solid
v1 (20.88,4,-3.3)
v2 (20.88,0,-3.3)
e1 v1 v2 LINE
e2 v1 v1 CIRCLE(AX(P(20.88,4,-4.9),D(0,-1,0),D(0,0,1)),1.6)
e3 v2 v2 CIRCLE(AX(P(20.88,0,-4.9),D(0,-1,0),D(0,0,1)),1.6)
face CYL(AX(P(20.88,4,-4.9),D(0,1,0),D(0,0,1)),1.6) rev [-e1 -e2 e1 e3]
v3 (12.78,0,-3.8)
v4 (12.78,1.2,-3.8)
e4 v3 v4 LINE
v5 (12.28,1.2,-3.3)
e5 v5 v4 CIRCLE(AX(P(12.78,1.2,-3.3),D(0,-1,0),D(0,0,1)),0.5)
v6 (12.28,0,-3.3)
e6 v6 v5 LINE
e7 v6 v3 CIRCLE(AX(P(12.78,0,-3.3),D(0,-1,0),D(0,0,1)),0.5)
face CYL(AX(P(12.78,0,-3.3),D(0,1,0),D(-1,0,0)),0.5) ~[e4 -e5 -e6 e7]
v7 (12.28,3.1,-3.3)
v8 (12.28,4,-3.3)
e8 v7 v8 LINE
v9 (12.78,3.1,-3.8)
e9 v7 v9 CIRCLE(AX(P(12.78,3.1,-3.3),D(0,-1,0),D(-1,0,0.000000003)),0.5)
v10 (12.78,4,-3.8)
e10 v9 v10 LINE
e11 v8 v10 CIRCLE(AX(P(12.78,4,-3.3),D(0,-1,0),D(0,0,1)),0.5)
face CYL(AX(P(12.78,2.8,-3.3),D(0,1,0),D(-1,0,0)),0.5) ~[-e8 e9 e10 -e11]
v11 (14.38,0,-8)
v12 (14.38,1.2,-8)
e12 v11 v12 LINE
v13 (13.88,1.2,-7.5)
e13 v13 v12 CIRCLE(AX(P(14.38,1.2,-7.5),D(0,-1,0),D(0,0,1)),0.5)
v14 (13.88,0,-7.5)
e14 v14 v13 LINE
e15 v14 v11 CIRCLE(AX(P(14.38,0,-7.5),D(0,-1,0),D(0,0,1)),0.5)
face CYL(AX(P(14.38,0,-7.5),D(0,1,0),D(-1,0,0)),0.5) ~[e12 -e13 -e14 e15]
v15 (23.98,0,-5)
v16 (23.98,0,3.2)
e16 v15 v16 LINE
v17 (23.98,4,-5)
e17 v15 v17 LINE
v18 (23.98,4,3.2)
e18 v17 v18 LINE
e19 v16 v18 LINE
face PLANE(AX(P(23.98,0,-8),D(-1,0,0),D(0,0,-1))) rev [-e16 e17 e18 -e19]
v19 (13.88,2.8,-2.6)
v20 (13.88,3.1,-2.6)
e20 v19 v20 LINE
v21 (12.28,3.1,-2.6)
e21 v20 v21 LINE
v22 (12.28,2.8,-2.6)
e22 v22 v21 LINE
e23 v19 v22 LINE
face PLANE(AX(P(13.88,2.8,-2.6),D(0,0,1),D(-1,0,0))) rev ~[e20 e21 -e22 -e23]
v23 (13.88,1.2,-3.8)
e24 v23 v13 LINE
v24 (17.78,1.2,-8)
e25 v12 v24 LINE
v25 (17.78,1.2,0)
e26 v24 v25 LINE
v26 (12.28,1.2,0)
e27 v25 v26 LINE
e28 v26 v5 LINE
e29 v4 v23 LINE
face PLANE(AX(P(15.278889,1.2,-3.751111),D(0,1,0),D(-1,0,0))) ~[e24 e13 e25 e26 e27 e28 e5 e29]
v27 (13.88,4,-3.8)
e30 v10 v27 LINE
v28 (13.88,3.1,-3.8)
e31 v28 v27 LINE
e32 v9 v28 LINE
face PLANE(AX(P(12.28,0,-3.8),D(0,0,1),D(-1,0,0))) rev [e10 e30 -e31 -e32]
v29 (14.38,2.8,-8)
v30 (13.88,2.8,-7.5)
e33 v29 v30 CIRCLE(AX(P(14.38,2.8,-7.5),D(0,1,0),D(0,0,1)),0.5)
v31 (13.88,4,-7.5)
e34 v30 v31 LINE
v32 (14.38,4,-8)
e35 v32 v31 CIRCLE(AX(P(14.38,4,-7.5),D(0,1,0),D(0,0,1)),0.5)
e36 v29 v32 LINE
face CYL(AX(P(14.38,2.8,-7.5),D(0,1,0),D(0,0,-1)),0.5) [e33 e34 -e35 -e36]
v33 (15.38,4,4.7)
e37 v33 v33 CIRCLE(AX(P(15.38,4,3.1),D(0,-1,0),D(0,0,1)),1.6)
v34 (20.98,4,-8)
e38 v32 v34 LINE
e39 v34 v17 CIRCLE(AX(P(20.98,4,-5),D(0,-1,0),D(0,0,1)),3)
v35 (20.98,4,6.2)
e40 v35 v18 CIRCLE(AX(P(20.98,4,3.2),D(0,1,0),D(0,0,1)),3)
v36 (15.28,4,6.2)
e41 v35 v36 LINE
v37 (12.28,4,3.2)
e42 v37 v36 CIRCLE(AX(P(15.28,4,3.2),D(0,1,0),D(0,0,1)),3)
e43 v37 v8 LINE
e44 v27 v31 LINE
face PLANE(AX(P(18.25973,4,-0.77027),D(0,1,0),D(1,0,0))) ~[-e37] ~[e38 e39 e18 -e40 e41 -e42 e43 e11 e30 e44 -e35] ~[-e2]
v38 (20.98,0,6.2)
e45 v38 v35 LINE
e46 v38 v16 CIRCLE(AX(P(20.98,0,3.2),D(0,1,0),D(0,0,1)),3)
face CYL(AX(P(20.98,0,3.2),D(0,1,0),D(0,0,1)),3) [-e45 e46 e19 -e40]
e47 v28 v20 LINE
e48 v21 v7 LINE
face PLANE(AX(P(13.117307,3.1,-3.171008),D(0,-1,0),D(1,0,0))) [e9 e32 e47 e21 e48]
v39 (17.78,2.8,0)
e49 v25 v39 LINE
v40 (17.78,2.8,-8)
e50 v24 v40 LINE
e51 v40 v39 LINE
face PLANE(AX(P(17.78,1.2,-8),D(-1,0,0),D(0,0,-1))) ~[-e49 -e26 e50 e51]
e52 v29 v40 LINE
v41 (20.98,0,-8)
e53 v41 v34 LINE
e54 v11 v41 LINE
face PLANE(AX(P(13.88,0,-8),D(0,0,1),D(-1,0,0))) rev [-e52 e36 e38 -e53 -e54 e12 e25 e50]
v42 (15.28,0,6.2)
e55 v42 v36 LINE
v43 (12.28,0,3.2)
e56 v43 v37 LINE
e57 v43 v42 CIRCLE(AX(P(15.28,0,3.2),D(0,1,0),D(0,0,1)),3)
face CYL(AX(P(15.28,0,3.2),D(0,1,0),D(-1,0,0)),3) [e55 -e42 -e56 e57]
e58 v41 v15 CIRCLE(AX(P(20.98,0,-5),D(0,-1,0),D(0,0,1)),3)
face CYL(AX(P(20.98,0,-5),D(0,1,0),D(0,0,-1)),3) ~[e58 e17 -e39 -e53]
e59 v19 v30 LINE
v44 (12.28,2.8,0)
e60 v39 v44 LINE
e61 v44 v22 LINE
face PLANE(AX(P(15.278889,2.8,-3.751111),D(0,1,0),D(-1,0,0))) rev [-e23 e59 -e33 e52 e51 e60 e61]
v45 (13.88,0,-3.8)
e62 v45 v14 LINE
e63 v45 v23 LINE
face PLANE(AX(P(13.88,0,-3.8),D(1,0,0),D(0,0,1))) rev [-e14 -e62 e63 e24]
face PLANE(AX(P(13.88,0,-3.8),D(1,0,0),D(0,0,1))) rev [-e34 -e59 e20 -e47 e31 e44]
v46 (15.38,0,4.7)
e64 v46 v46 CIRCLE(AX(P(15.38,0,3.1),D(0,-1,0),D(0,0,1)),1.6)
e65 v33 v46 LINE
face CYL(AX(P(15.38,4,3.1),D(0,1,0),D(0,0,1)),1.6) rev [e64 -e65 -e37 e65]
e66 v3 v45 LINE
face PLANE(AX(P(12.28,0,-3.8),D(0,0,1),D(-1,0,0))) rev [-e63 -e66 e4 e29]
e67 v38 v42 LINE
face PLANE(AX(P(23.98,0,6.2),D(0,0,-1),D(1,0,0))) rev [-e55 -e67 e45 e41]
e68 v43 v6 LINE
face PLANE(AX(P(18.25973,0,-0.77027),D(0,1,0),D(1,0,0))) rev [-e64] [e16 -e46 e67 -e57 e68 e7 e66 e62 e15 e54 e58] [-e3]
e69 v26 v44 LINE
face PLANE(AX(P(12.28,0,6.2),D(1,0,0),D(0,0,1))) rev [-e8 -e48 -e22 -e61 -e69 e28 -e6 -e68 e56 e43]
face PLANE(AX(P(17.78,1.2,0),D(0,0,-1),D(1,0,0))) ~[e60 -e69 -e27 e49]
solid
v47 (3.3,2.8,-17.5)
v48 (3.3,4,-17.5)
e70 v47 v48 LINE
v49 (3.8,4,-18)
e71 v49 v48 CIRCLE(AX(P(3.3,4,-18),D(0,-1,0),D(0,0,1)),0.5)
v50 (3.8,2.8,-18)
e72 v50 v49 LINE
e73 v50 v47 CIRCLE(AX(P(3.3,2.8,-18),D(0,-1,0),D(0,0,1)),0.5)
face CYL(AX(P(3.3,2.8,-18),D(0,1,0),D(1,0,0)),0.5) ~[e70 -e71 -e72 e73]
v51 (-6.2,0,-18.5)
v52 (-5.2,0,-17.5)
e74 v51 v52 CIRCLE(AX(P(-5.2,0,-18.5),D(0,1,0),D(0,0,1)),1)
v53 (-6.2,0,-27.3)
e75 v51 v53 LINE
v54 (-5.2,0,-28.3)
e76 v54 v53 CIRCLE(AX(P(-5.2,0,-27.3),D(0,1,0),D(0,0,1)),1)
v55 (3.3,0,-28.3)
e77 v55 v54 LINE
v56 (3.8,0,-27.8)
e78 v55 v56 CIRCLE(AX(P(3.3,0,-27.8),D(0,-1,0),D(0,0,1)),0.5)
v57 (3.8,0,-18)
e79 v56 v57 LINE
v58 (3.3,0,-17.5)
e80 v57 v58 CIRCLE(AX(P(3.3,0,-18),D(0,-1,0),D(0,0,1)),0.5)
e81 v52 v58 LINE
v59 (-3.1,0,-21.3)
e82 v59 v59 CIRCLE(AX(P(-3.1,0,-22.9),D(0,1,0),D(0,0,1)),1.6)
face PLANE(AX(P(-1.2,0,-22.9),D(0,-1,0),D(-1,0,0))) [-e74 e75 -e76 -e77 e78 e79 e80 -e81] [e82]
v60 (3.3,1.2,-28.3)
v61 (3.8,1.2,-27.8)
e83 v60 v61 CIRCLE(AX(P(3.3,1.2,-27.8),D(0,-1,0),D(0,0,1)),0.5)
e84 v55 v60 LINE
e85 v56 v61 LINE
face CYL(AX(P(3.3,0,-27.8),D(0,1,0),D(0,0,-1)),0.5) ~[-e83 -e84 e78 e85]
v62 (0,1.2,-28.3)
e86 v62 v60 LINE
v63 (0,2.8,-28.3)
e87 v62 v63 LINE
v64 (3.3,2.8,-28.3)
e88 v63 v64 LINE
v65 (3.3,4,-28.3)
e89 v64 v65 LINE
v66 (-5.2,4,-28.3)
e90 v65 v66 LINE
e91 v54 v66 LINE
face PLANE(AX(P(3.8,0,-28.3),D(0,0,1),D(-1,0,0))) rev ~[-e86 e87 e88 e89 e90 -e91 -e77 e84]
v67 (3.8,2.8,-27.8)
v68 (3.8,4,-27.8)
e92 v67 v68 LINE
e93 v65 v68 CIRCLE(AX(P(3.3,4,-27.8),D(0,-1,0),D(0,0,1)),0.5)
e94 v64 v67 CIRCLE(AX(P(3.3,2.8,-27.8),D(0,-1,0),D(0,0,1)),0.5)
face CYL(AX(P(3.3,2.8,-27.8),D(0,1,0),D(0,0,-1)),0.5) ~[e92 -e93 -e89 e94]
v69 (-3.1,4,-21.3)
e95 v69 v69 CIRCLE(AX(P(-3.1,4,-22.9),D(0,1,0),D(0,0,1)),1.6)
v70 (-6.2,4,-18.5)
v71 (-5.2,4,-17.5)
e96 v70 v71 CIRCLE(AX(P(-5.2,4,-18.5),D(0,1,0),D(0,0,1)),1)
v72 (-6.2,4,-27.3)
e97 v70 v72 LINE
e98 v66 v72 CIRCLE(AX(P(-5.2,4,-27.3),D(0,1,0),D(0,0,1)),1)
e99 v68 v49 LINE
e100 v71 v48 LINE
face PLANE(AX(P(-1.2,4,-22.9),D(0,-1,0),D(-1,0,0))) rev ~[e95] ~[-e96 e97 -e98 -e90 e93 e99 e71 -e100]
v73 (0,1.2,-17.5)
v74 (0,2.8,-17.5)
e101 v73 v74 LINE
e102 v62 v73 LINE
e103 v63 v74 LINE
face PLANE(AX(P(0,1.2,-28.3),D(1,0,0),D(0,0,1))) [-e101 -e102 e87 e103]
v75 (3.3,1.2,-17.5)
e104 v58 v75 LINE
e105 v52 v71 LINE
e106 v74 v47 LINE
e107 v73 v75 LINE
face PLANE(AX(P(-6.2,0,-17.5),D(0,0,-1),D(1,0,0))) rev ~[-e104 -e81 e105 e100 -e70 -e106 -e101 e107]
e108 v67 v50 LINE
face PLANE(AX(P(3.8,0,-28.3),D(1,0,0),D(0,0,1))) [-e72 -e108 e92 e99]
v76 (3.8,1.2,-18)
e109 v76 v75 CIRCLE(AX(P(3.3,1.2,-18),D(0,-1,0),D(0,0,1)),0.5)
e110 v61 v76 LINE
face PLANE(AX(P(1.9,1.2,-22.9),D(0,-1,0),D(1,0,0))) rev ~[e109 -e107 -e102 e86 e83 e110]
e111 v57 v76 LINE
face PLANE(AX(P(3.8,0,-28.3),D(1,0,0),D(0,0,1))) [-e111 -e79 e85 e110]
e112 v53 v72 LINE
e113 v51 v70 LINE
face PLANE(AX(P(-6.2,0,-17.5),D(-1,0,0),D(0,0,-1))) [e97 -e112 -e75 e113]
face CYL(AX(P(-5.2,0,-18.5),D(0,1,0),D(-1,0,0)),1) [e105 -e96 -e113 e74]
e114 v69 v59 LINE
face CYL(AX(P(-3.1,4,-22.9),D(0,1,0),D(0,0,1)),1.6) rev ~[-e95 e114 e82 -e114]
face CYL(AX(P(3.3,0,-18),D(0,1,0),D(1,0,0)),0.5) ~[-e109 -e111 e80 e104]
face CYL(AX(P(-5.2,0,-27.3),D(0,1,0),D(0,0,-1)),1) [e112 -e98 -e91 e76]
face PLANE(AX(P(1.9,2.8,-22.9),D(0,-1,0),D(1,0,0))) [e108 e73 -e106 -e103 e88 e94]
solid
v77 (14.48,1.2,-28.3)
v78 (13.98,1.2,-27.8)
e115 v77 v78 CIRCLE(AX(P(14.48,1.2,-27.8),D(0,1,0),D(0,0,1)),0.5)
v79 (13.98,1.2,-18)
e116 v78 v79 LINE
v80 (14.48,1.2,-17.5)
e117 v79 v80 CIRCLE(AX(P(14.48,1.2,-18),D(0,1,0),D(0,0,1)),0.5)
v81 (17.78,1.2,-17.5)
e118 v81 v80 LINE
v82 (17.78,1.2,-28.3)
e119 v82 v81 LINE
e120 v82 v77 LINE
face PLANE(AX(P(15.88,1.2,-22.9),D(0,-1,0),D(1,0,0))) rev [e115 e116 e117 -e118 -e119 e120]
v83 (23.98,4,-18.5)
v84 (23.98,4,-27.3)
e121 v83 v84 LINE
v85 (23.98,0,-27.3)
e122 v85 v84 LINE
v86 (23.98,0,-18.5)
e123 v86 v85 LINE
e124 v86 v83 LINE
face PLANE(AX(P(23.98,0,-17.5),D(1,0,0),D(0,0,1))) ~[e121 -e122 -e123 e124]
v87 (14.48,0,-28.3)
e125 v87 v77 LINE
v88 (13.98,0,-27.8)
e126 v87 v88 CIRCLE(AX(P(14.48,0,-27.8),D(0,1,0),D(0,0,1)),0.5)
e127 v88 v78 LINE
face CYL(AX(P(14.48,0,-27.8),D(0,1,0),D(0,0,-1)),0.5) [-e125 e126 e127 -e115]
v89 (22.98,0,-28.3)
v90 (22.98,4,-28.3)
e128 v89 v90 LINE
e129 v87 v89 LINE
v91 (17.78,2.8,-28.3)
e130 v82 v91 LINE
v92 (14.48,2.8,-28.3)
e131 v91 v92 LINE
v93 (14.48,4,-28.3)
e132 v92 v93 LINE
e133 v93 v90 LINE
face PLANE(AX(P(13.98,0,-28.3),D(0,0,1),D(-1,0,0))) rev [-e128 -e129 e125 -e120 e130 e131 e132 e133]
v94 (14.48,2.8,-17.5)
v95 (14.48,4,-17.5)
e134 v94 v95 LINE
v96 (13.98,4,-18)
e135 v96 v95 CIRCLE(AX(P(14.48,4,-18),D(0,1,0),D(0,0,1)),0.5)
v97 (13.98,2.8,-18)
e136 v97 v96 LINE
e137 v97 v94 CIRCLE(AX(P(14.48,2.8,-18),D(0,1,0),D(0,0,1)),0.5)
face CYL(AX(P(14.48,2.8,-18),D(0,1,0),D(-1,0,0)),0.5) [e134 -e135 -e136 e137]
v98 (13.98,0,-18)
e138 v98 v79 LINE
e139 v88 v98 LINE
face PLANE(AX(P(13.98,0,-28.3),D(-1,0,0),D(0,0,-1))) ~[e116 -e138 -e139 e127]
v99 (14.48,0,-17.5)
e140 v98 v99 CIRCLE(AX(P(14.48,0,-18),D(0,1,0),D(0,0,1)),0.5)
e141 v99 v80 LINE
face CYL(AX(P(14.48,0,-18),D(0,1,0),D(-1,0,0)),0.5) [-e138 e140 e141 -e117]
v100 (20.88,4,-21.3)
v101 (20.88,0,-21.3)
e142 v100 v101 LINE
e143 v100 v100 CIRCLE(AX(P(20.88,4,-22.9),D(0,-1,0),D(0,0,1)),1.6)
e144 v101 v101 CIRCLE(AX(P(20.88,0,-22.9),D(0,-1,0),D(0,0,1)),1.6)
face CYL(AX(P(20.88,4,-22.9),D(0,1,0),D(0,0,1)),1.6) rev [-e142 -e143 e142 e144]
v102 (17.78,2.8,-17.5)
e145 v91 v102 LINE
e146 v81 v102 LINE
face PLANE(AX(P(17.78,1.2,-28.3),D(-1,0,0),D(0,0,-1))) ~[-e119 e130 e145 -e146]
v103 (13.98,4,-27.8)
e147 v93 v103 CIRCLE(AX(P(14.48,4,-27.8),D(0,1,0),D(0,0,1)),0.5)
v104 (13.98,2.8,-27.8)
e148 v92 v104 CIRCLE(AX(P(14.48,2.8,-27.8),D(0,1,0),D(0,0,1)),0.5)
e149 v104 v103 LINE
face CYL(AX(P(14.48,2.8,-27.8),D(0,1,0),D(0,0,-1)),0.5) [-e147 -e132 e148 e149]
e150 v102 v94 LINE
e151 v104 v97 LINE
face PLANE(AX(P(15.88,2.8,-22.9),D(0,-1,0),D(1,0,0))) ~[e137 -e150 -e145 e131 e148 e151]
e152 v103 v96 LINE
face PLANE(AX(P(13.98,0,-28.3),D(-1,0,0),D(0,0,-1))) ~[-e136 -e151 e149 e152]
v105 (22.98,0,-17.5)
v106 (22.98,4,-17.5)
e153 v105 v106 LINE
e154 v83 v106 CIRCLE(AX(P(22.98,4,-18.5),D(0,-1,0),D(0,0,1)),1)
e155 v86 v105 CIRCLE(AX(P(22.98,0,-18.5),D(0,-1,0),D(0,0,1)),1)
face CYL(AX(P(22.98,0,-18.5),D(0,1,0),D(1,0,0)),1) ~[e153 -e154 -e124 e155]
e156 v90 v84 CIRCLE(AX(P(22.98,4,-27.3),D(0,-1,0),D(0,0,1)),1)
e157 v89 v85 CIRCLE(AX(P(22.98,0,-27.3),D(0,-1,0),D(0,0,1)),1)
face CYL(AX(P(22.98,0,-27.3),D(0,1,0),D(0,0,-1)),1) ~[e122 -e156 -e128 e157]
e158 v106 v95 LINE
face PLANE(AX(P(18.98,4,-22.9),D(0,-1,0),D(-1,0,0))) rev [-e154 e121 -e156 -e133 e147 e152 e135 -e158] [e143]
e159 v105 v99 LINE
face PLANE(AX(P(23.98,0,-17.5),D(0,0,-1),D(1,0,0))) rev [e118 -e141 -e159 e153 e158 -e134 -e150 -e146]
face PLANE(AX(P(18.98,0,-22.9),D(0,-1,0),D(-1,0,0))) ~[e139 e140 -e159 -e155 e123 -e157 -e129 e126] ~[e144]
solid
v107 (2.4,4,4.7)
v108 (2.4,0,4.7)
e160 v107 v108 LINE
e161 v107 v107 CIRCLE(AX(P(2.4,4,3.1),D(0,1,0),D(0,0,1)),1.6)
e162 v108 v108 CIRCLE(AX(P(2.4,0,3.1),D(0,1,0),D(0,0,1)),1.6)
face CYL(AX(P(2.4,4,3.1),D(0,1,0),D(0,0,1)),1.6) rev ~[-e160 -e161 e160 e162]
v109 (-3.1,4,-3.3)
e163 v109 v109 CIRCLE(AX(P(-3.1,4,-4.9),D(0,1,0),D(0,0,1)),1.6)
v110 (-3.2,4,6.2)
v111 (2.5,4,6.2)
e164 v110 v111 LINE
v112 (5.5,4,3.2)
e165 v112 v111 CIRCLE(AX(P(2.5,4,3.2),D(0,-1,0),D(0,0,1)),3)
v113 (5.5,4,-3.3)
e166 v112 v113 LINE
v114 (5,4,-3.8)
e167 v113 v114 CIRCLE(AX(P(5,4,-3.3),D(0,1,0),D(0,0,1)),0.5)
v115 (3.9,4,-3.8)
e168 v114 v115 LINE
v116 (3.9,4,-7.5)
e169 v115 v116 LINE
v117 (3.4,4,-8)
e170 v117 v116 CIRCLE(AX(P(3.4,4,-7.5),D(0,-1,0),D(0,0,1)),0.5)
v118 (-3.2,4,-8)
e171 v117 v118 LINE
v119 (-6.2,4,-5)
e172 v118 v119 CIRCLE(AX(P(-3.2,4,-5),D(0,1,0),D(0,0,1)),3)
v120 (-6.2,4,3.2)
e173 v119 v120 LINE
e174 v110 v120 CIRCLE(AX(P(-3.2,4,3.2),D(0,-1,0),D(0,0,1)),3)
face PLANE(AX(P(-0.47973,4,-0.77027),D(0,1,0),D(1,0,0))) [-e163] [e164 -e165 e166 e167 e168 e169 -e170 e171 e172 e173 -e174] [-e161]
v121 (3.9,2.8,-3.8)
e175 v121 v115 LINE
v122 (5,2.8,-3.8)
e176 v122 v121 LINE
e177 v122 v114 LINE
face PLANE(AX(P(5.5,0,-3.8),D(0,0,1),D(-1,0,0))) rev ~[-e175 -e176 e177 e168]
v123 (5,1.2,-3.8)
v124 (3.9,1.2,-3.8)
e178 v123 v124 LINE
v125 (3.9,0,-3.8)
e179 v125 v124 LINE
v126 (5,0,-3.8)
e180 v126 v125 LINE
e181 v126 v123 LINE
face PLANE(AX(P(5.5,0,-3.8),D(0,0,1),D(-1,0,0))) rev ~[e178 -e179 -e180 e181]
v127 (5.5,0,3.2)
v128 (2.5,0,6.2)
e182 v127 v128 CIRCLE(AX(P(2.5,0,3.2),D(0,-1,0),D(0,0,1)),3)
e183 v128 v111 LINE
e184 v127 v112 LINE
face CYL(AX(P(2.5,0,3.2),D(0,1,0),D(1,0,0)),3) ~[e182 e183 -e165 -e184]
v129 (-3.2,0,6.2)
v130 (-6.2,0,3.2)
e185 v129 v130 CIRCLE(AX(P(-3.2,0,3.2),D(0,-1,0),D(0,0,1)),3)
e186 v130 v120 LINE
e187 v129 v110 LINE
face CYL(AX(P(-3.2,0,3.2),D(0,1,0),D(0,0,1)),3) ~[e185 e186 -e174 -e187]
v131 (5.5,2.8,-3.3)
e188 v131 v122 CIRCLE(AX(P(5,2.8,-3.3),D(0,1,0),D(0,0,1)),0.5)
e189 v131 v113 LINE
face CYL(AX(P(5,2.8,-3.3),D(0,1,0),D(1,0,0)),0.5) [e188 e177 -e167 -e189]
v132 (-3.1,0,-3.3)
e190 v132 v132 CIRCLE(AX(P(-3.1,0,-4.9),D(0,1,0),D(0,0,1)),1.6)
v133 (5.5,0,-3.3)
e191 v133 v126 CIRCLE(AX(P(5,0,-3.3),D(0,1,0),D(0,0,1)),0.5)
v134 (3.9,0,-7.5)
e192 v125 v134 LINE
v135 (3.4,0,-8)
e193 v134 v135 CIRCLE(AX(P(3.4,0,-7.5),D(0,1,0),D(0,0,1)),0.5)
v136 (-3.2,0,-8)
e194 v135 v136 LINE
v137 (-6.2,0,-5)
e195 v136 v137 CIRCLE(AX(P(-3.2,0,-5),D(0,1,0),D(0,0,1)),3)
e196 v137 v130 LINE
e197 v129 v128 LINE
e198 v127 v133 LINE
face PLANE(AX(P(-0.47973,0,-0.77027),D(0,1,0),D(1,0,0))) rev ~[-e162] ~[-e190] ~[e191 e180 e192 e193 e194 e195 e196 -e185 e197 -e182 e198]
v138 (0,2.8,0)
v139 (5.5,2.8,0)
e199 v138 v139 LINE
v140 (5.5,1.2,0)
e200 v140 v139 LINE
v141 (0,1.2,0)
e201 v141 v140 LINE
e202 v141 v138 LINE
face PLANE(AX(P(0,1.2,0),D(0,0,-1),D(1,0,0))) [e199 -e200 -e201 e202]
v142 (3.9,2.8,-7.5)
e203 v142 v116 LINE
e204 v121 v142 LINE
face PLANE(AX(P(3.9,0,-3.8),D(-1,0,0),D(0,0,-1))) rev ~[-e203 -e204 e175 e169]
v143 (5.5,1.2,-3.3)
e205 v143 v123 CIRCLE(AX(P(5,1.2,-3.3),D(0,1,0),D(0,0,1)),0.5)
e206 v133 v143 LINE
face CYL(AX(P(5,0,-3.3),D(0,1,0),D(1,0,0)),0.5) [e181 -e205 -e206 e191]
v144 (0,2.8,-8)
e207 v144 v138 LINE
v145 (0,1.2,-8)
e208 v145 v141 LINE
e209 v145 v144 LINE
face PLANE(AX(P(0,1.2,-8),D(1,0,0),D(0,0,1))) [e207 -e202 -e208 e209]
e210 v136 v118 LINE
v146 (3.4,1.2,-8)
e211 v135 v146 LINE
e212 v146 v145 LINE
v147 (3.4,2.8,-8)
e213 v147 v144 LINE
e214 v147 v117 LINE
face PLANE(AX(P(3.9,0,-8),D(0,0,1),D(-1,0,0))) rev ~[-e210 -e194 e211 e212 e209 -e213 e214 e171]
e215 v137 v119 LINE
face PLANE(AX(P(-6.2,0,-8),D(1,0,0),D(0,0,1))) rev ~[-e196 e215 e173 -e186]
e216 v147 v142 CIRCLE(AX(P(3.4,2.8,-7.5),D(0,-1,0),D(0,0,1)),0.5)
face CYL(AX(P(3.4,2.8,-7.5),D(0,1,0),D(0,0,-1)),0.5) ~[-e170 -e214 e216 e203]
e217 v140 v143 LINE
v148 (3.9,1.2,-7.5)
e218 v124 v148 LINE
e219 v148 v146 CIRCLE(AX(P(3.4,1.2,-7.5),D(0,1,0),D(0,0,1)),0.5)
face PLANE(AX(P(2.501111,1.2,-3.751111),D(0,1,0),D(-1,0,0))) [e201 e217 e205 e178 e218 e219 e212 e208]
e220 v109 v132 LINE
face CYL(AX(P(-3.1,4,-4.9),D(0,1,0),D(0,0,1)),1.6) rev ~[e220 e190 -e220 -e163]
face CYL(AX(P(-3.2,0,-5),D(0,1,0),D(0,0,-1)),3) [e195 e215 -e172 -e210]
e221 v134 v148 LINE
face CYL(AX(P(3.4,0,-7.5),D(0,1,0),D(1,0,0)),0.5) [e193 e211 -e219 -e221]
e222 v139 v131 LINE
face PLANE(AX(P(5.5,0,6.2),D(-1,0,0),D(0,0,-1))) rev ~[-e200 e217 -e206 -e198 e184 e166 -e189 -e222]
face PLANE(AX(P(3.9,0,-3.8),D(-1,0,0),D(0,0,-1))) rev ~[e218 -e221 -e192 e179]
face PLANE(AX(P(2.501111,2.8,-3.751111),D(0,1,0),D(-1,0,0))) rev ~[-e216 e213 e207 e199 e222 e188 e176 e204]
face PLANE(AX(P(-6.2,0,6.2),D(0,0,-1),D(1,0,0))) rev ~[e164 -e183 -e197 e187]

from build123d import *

# Parameters (mm, degrees)
SKETCH1_R           = 1
BOSS_EXTRUDE1_DEPTH = 4
CUT_EXTRUDE1_START  = -1.2
CUT_EXTRUDE1_DEPTH  = 1.6
SKETCH3_R           = 1.6
CUT_EXTRUDE2_DEPTH  = 11.883014288
FILLET1_R           = 3
FILLET2_R           = 0.5
SKETCH5_R           = 1
BOSS_EXTRUDE2_DEPTH = 4
SKETCH7_R           = 1.6
CUT_EXTRUDE4_DEPTH  = 30.246025371
CUT_EXTRUDE5_START  = -1.2
SKETCH8_W           = 3.8
SKETCH8_H           = 10.8
CUT_EXTRUDE5_DEPTH  = 1.6
FILLET3_R           = 0.5
FILLET4_R           = 1
CUT_EXTRUDE3_DEPTH  = 0.3


with BuildPart() as part:
    # Sketch1 → Boss-Extrude1 (new body)
    with BuildSketch(Plane(origin=(0, 0, 0), x_dir=(1, 0, 0), z_dir=(0, 1, 0))):
        Polygon((5.5, 0), (5.5, 3.8), (3.9, 3.8), (3.9, 8), (0, 8), (-6.2, 8), (-6.2, -6.2), (5.5, -6.2), align=None)
        with Locations(Location((-3.1, 4.9, 0), (0, 0, 270))):
            Circle(SKETCH1_R, mode=Mode.SUBTRACT)
        with Locations(Location((2.4, -3.1, 0), (0, 0, 270))):
            Circle(SKETCH1_R, mode=Mode.SUBTRACT)
    extrude(amount=BOSS_EXTRUDE1_DEPTH)

    # Sketch2 → Cut-Extrude1 (cut)
    with BuildSketch(Plane.XZ.offset(CUT_EXTRUDE1_START)):
        Polygon((0, 0), (5.5, 0), (5.5, -3.8), (3.9, -3.8), (3.9, -8), (0, -8), align=None)
    extrude(amount=-CUT_EXTRUDE1_DEPTH, mode=Mode.SUBTRACT)

    # Sketch3 → Cut-Extrude2 (cut, through all)
    with BuildSketch(Plane(origin=(0, 4, 0), x_dir=(1, 0, 0), z_dir=(0, 1, 0))):
        with Locations(Location((2.4, -3.1, 0), (0, 0, 270))):
            Circle(SKETCH3_R)
        with Locations(Location((-3.1, 4.9, 0), (0, 0, 270))):
            Circle(SKETCH3_R)
    extrude(amount=-CUT_EXTRUDE2_DEPTH, mode=Mode.SUBTRACT)

    # Fillet1
    fillet1_edges = [part.edges().sort_by_distance(p)[0] for p in [
        (5.5, 2, 6.2),
        (-6.2, 2, 6.2),
        (-6.2, 2, -8),
    ]]
    fillet(fillet1_edges, radius=FILLET1_R)

    # Fillet2
    fillet2_edges = [part.edges().sort_by_distance(p)[0] for p in [
        (3.9, 3.4, -8),
        (5.5, 3.4, -3.8),
        (3.9, 0.6, -8),
        (5.5, 0.6, -3.8),
    ]]
    fillet(fillet2_edges, radius=FILLET2_R)


with BuildPart() as body_2:
    # Sketch5 → Boss-Extrude2 (new body)
    with BuildSketch(Plane(origin=(0, 0, 0), x_dir=(1, 0, 0), z_dir=(0, 1, 0))):
        Polygon((0, 28.3), (3.8, 28.3), (3.8, 17.5), (0, 17.5), (-6.2, 17.5), (-6.2, 28.3), align=None)
        with Locations(Location((-3.1, 22.9, 0), (0, 0, 90))):
            Circle(SKETCH5_R, mode=Mode.SUBTRACT)
    extrude(amount=BOSS_EXTRUDE2_DEPTH)

    # Sketch7 → Cut-Extrude4 (cut, through all)
    with BuildSketch(Plane(origin=(0, 4, 0), x_dir=(1, 0, 0), z_dir=(0, 1, 0))):
        with Locations(Location((-3.1, 22.9, 0), (0, 0, 270))):
            Circle(SKETCH7_R)
    extrude(amount=-CUT_EXTRUDE4_DEPTH, mode=Mode.SUBTRACT)

    # Sketch8 → Cut-Extrude5 (cut)
    with BuildSketch(Plane.XZ.offset(CUT_EXTRUDE5_START)):
        with Locations((1.9, -22.9)):
            Rectangle(SKETCH8_W, SKETCH8_H)
    extrude(amount=-CUT_EXTRUDE5_DEPTH, mode=Mode.SUBTRACT)

    # Fillet3
    fillet3_edges = [body_2.edges().sort_by_distance(p)[0] for p in [
        (3.8, 3.4, -28.3),
        (3.8, 3.4, -17.5),
        (3.8, 0.6, -17.5),
        (3.8, 0.6, -28.3),
    ]]
    fillet(fillet3_edges, radius=FILLET3_R)

    # Fillet4
    fillet4_edges = [body_2.edges().sort_by_distance(p)[0] for p in [
        (-6.2, 2, -28.3),
        (-6.2, 2, -17.5),
    ]]
    fillet(fillet4_edges, radius=FILLET4_R)


with BuildPart() as body_3:
    # Mirror2: mirrored copy
    add(part.part.mirror(Plane(origin=(8.89, 0, 0), x_dir=(0, 0, 1), z_dir=(1, 0, 0))))

    # Sketch4 → Cut-Extrude3 (cut)
    with BuildSketch(Plane.XZ.offset(-2.8)):
        with BuildLine():
            Line((13.88, -3.8), (13.88, -2.6))
            Line((13.88, -2.6), (12.28, -2.6))
            Line((12.28, -2.6), (12.28, -3.3))
            ThreePointArc((12.28, -3.3), (12.426446609, -3.653553391), (12.78, -3.8))
            Line((12.78, -3.8), (13.88, -3.8))
        make_face()
    extrude(amount=-CUT_EXTRUDE3_DEPTH, mode=Mode.SUBTRACT)


with BuildPart() as body_4:
    # Mirror2 2: mirrored copy
    add(body_2.part.mirror(Plane(origin=(8.89, 0, 0), x_dir=(0, 0, 1), z_dir=(1, 0, 0))))


solid = Compound([part.part, body_2.part, body_3.part, body_4.part])
